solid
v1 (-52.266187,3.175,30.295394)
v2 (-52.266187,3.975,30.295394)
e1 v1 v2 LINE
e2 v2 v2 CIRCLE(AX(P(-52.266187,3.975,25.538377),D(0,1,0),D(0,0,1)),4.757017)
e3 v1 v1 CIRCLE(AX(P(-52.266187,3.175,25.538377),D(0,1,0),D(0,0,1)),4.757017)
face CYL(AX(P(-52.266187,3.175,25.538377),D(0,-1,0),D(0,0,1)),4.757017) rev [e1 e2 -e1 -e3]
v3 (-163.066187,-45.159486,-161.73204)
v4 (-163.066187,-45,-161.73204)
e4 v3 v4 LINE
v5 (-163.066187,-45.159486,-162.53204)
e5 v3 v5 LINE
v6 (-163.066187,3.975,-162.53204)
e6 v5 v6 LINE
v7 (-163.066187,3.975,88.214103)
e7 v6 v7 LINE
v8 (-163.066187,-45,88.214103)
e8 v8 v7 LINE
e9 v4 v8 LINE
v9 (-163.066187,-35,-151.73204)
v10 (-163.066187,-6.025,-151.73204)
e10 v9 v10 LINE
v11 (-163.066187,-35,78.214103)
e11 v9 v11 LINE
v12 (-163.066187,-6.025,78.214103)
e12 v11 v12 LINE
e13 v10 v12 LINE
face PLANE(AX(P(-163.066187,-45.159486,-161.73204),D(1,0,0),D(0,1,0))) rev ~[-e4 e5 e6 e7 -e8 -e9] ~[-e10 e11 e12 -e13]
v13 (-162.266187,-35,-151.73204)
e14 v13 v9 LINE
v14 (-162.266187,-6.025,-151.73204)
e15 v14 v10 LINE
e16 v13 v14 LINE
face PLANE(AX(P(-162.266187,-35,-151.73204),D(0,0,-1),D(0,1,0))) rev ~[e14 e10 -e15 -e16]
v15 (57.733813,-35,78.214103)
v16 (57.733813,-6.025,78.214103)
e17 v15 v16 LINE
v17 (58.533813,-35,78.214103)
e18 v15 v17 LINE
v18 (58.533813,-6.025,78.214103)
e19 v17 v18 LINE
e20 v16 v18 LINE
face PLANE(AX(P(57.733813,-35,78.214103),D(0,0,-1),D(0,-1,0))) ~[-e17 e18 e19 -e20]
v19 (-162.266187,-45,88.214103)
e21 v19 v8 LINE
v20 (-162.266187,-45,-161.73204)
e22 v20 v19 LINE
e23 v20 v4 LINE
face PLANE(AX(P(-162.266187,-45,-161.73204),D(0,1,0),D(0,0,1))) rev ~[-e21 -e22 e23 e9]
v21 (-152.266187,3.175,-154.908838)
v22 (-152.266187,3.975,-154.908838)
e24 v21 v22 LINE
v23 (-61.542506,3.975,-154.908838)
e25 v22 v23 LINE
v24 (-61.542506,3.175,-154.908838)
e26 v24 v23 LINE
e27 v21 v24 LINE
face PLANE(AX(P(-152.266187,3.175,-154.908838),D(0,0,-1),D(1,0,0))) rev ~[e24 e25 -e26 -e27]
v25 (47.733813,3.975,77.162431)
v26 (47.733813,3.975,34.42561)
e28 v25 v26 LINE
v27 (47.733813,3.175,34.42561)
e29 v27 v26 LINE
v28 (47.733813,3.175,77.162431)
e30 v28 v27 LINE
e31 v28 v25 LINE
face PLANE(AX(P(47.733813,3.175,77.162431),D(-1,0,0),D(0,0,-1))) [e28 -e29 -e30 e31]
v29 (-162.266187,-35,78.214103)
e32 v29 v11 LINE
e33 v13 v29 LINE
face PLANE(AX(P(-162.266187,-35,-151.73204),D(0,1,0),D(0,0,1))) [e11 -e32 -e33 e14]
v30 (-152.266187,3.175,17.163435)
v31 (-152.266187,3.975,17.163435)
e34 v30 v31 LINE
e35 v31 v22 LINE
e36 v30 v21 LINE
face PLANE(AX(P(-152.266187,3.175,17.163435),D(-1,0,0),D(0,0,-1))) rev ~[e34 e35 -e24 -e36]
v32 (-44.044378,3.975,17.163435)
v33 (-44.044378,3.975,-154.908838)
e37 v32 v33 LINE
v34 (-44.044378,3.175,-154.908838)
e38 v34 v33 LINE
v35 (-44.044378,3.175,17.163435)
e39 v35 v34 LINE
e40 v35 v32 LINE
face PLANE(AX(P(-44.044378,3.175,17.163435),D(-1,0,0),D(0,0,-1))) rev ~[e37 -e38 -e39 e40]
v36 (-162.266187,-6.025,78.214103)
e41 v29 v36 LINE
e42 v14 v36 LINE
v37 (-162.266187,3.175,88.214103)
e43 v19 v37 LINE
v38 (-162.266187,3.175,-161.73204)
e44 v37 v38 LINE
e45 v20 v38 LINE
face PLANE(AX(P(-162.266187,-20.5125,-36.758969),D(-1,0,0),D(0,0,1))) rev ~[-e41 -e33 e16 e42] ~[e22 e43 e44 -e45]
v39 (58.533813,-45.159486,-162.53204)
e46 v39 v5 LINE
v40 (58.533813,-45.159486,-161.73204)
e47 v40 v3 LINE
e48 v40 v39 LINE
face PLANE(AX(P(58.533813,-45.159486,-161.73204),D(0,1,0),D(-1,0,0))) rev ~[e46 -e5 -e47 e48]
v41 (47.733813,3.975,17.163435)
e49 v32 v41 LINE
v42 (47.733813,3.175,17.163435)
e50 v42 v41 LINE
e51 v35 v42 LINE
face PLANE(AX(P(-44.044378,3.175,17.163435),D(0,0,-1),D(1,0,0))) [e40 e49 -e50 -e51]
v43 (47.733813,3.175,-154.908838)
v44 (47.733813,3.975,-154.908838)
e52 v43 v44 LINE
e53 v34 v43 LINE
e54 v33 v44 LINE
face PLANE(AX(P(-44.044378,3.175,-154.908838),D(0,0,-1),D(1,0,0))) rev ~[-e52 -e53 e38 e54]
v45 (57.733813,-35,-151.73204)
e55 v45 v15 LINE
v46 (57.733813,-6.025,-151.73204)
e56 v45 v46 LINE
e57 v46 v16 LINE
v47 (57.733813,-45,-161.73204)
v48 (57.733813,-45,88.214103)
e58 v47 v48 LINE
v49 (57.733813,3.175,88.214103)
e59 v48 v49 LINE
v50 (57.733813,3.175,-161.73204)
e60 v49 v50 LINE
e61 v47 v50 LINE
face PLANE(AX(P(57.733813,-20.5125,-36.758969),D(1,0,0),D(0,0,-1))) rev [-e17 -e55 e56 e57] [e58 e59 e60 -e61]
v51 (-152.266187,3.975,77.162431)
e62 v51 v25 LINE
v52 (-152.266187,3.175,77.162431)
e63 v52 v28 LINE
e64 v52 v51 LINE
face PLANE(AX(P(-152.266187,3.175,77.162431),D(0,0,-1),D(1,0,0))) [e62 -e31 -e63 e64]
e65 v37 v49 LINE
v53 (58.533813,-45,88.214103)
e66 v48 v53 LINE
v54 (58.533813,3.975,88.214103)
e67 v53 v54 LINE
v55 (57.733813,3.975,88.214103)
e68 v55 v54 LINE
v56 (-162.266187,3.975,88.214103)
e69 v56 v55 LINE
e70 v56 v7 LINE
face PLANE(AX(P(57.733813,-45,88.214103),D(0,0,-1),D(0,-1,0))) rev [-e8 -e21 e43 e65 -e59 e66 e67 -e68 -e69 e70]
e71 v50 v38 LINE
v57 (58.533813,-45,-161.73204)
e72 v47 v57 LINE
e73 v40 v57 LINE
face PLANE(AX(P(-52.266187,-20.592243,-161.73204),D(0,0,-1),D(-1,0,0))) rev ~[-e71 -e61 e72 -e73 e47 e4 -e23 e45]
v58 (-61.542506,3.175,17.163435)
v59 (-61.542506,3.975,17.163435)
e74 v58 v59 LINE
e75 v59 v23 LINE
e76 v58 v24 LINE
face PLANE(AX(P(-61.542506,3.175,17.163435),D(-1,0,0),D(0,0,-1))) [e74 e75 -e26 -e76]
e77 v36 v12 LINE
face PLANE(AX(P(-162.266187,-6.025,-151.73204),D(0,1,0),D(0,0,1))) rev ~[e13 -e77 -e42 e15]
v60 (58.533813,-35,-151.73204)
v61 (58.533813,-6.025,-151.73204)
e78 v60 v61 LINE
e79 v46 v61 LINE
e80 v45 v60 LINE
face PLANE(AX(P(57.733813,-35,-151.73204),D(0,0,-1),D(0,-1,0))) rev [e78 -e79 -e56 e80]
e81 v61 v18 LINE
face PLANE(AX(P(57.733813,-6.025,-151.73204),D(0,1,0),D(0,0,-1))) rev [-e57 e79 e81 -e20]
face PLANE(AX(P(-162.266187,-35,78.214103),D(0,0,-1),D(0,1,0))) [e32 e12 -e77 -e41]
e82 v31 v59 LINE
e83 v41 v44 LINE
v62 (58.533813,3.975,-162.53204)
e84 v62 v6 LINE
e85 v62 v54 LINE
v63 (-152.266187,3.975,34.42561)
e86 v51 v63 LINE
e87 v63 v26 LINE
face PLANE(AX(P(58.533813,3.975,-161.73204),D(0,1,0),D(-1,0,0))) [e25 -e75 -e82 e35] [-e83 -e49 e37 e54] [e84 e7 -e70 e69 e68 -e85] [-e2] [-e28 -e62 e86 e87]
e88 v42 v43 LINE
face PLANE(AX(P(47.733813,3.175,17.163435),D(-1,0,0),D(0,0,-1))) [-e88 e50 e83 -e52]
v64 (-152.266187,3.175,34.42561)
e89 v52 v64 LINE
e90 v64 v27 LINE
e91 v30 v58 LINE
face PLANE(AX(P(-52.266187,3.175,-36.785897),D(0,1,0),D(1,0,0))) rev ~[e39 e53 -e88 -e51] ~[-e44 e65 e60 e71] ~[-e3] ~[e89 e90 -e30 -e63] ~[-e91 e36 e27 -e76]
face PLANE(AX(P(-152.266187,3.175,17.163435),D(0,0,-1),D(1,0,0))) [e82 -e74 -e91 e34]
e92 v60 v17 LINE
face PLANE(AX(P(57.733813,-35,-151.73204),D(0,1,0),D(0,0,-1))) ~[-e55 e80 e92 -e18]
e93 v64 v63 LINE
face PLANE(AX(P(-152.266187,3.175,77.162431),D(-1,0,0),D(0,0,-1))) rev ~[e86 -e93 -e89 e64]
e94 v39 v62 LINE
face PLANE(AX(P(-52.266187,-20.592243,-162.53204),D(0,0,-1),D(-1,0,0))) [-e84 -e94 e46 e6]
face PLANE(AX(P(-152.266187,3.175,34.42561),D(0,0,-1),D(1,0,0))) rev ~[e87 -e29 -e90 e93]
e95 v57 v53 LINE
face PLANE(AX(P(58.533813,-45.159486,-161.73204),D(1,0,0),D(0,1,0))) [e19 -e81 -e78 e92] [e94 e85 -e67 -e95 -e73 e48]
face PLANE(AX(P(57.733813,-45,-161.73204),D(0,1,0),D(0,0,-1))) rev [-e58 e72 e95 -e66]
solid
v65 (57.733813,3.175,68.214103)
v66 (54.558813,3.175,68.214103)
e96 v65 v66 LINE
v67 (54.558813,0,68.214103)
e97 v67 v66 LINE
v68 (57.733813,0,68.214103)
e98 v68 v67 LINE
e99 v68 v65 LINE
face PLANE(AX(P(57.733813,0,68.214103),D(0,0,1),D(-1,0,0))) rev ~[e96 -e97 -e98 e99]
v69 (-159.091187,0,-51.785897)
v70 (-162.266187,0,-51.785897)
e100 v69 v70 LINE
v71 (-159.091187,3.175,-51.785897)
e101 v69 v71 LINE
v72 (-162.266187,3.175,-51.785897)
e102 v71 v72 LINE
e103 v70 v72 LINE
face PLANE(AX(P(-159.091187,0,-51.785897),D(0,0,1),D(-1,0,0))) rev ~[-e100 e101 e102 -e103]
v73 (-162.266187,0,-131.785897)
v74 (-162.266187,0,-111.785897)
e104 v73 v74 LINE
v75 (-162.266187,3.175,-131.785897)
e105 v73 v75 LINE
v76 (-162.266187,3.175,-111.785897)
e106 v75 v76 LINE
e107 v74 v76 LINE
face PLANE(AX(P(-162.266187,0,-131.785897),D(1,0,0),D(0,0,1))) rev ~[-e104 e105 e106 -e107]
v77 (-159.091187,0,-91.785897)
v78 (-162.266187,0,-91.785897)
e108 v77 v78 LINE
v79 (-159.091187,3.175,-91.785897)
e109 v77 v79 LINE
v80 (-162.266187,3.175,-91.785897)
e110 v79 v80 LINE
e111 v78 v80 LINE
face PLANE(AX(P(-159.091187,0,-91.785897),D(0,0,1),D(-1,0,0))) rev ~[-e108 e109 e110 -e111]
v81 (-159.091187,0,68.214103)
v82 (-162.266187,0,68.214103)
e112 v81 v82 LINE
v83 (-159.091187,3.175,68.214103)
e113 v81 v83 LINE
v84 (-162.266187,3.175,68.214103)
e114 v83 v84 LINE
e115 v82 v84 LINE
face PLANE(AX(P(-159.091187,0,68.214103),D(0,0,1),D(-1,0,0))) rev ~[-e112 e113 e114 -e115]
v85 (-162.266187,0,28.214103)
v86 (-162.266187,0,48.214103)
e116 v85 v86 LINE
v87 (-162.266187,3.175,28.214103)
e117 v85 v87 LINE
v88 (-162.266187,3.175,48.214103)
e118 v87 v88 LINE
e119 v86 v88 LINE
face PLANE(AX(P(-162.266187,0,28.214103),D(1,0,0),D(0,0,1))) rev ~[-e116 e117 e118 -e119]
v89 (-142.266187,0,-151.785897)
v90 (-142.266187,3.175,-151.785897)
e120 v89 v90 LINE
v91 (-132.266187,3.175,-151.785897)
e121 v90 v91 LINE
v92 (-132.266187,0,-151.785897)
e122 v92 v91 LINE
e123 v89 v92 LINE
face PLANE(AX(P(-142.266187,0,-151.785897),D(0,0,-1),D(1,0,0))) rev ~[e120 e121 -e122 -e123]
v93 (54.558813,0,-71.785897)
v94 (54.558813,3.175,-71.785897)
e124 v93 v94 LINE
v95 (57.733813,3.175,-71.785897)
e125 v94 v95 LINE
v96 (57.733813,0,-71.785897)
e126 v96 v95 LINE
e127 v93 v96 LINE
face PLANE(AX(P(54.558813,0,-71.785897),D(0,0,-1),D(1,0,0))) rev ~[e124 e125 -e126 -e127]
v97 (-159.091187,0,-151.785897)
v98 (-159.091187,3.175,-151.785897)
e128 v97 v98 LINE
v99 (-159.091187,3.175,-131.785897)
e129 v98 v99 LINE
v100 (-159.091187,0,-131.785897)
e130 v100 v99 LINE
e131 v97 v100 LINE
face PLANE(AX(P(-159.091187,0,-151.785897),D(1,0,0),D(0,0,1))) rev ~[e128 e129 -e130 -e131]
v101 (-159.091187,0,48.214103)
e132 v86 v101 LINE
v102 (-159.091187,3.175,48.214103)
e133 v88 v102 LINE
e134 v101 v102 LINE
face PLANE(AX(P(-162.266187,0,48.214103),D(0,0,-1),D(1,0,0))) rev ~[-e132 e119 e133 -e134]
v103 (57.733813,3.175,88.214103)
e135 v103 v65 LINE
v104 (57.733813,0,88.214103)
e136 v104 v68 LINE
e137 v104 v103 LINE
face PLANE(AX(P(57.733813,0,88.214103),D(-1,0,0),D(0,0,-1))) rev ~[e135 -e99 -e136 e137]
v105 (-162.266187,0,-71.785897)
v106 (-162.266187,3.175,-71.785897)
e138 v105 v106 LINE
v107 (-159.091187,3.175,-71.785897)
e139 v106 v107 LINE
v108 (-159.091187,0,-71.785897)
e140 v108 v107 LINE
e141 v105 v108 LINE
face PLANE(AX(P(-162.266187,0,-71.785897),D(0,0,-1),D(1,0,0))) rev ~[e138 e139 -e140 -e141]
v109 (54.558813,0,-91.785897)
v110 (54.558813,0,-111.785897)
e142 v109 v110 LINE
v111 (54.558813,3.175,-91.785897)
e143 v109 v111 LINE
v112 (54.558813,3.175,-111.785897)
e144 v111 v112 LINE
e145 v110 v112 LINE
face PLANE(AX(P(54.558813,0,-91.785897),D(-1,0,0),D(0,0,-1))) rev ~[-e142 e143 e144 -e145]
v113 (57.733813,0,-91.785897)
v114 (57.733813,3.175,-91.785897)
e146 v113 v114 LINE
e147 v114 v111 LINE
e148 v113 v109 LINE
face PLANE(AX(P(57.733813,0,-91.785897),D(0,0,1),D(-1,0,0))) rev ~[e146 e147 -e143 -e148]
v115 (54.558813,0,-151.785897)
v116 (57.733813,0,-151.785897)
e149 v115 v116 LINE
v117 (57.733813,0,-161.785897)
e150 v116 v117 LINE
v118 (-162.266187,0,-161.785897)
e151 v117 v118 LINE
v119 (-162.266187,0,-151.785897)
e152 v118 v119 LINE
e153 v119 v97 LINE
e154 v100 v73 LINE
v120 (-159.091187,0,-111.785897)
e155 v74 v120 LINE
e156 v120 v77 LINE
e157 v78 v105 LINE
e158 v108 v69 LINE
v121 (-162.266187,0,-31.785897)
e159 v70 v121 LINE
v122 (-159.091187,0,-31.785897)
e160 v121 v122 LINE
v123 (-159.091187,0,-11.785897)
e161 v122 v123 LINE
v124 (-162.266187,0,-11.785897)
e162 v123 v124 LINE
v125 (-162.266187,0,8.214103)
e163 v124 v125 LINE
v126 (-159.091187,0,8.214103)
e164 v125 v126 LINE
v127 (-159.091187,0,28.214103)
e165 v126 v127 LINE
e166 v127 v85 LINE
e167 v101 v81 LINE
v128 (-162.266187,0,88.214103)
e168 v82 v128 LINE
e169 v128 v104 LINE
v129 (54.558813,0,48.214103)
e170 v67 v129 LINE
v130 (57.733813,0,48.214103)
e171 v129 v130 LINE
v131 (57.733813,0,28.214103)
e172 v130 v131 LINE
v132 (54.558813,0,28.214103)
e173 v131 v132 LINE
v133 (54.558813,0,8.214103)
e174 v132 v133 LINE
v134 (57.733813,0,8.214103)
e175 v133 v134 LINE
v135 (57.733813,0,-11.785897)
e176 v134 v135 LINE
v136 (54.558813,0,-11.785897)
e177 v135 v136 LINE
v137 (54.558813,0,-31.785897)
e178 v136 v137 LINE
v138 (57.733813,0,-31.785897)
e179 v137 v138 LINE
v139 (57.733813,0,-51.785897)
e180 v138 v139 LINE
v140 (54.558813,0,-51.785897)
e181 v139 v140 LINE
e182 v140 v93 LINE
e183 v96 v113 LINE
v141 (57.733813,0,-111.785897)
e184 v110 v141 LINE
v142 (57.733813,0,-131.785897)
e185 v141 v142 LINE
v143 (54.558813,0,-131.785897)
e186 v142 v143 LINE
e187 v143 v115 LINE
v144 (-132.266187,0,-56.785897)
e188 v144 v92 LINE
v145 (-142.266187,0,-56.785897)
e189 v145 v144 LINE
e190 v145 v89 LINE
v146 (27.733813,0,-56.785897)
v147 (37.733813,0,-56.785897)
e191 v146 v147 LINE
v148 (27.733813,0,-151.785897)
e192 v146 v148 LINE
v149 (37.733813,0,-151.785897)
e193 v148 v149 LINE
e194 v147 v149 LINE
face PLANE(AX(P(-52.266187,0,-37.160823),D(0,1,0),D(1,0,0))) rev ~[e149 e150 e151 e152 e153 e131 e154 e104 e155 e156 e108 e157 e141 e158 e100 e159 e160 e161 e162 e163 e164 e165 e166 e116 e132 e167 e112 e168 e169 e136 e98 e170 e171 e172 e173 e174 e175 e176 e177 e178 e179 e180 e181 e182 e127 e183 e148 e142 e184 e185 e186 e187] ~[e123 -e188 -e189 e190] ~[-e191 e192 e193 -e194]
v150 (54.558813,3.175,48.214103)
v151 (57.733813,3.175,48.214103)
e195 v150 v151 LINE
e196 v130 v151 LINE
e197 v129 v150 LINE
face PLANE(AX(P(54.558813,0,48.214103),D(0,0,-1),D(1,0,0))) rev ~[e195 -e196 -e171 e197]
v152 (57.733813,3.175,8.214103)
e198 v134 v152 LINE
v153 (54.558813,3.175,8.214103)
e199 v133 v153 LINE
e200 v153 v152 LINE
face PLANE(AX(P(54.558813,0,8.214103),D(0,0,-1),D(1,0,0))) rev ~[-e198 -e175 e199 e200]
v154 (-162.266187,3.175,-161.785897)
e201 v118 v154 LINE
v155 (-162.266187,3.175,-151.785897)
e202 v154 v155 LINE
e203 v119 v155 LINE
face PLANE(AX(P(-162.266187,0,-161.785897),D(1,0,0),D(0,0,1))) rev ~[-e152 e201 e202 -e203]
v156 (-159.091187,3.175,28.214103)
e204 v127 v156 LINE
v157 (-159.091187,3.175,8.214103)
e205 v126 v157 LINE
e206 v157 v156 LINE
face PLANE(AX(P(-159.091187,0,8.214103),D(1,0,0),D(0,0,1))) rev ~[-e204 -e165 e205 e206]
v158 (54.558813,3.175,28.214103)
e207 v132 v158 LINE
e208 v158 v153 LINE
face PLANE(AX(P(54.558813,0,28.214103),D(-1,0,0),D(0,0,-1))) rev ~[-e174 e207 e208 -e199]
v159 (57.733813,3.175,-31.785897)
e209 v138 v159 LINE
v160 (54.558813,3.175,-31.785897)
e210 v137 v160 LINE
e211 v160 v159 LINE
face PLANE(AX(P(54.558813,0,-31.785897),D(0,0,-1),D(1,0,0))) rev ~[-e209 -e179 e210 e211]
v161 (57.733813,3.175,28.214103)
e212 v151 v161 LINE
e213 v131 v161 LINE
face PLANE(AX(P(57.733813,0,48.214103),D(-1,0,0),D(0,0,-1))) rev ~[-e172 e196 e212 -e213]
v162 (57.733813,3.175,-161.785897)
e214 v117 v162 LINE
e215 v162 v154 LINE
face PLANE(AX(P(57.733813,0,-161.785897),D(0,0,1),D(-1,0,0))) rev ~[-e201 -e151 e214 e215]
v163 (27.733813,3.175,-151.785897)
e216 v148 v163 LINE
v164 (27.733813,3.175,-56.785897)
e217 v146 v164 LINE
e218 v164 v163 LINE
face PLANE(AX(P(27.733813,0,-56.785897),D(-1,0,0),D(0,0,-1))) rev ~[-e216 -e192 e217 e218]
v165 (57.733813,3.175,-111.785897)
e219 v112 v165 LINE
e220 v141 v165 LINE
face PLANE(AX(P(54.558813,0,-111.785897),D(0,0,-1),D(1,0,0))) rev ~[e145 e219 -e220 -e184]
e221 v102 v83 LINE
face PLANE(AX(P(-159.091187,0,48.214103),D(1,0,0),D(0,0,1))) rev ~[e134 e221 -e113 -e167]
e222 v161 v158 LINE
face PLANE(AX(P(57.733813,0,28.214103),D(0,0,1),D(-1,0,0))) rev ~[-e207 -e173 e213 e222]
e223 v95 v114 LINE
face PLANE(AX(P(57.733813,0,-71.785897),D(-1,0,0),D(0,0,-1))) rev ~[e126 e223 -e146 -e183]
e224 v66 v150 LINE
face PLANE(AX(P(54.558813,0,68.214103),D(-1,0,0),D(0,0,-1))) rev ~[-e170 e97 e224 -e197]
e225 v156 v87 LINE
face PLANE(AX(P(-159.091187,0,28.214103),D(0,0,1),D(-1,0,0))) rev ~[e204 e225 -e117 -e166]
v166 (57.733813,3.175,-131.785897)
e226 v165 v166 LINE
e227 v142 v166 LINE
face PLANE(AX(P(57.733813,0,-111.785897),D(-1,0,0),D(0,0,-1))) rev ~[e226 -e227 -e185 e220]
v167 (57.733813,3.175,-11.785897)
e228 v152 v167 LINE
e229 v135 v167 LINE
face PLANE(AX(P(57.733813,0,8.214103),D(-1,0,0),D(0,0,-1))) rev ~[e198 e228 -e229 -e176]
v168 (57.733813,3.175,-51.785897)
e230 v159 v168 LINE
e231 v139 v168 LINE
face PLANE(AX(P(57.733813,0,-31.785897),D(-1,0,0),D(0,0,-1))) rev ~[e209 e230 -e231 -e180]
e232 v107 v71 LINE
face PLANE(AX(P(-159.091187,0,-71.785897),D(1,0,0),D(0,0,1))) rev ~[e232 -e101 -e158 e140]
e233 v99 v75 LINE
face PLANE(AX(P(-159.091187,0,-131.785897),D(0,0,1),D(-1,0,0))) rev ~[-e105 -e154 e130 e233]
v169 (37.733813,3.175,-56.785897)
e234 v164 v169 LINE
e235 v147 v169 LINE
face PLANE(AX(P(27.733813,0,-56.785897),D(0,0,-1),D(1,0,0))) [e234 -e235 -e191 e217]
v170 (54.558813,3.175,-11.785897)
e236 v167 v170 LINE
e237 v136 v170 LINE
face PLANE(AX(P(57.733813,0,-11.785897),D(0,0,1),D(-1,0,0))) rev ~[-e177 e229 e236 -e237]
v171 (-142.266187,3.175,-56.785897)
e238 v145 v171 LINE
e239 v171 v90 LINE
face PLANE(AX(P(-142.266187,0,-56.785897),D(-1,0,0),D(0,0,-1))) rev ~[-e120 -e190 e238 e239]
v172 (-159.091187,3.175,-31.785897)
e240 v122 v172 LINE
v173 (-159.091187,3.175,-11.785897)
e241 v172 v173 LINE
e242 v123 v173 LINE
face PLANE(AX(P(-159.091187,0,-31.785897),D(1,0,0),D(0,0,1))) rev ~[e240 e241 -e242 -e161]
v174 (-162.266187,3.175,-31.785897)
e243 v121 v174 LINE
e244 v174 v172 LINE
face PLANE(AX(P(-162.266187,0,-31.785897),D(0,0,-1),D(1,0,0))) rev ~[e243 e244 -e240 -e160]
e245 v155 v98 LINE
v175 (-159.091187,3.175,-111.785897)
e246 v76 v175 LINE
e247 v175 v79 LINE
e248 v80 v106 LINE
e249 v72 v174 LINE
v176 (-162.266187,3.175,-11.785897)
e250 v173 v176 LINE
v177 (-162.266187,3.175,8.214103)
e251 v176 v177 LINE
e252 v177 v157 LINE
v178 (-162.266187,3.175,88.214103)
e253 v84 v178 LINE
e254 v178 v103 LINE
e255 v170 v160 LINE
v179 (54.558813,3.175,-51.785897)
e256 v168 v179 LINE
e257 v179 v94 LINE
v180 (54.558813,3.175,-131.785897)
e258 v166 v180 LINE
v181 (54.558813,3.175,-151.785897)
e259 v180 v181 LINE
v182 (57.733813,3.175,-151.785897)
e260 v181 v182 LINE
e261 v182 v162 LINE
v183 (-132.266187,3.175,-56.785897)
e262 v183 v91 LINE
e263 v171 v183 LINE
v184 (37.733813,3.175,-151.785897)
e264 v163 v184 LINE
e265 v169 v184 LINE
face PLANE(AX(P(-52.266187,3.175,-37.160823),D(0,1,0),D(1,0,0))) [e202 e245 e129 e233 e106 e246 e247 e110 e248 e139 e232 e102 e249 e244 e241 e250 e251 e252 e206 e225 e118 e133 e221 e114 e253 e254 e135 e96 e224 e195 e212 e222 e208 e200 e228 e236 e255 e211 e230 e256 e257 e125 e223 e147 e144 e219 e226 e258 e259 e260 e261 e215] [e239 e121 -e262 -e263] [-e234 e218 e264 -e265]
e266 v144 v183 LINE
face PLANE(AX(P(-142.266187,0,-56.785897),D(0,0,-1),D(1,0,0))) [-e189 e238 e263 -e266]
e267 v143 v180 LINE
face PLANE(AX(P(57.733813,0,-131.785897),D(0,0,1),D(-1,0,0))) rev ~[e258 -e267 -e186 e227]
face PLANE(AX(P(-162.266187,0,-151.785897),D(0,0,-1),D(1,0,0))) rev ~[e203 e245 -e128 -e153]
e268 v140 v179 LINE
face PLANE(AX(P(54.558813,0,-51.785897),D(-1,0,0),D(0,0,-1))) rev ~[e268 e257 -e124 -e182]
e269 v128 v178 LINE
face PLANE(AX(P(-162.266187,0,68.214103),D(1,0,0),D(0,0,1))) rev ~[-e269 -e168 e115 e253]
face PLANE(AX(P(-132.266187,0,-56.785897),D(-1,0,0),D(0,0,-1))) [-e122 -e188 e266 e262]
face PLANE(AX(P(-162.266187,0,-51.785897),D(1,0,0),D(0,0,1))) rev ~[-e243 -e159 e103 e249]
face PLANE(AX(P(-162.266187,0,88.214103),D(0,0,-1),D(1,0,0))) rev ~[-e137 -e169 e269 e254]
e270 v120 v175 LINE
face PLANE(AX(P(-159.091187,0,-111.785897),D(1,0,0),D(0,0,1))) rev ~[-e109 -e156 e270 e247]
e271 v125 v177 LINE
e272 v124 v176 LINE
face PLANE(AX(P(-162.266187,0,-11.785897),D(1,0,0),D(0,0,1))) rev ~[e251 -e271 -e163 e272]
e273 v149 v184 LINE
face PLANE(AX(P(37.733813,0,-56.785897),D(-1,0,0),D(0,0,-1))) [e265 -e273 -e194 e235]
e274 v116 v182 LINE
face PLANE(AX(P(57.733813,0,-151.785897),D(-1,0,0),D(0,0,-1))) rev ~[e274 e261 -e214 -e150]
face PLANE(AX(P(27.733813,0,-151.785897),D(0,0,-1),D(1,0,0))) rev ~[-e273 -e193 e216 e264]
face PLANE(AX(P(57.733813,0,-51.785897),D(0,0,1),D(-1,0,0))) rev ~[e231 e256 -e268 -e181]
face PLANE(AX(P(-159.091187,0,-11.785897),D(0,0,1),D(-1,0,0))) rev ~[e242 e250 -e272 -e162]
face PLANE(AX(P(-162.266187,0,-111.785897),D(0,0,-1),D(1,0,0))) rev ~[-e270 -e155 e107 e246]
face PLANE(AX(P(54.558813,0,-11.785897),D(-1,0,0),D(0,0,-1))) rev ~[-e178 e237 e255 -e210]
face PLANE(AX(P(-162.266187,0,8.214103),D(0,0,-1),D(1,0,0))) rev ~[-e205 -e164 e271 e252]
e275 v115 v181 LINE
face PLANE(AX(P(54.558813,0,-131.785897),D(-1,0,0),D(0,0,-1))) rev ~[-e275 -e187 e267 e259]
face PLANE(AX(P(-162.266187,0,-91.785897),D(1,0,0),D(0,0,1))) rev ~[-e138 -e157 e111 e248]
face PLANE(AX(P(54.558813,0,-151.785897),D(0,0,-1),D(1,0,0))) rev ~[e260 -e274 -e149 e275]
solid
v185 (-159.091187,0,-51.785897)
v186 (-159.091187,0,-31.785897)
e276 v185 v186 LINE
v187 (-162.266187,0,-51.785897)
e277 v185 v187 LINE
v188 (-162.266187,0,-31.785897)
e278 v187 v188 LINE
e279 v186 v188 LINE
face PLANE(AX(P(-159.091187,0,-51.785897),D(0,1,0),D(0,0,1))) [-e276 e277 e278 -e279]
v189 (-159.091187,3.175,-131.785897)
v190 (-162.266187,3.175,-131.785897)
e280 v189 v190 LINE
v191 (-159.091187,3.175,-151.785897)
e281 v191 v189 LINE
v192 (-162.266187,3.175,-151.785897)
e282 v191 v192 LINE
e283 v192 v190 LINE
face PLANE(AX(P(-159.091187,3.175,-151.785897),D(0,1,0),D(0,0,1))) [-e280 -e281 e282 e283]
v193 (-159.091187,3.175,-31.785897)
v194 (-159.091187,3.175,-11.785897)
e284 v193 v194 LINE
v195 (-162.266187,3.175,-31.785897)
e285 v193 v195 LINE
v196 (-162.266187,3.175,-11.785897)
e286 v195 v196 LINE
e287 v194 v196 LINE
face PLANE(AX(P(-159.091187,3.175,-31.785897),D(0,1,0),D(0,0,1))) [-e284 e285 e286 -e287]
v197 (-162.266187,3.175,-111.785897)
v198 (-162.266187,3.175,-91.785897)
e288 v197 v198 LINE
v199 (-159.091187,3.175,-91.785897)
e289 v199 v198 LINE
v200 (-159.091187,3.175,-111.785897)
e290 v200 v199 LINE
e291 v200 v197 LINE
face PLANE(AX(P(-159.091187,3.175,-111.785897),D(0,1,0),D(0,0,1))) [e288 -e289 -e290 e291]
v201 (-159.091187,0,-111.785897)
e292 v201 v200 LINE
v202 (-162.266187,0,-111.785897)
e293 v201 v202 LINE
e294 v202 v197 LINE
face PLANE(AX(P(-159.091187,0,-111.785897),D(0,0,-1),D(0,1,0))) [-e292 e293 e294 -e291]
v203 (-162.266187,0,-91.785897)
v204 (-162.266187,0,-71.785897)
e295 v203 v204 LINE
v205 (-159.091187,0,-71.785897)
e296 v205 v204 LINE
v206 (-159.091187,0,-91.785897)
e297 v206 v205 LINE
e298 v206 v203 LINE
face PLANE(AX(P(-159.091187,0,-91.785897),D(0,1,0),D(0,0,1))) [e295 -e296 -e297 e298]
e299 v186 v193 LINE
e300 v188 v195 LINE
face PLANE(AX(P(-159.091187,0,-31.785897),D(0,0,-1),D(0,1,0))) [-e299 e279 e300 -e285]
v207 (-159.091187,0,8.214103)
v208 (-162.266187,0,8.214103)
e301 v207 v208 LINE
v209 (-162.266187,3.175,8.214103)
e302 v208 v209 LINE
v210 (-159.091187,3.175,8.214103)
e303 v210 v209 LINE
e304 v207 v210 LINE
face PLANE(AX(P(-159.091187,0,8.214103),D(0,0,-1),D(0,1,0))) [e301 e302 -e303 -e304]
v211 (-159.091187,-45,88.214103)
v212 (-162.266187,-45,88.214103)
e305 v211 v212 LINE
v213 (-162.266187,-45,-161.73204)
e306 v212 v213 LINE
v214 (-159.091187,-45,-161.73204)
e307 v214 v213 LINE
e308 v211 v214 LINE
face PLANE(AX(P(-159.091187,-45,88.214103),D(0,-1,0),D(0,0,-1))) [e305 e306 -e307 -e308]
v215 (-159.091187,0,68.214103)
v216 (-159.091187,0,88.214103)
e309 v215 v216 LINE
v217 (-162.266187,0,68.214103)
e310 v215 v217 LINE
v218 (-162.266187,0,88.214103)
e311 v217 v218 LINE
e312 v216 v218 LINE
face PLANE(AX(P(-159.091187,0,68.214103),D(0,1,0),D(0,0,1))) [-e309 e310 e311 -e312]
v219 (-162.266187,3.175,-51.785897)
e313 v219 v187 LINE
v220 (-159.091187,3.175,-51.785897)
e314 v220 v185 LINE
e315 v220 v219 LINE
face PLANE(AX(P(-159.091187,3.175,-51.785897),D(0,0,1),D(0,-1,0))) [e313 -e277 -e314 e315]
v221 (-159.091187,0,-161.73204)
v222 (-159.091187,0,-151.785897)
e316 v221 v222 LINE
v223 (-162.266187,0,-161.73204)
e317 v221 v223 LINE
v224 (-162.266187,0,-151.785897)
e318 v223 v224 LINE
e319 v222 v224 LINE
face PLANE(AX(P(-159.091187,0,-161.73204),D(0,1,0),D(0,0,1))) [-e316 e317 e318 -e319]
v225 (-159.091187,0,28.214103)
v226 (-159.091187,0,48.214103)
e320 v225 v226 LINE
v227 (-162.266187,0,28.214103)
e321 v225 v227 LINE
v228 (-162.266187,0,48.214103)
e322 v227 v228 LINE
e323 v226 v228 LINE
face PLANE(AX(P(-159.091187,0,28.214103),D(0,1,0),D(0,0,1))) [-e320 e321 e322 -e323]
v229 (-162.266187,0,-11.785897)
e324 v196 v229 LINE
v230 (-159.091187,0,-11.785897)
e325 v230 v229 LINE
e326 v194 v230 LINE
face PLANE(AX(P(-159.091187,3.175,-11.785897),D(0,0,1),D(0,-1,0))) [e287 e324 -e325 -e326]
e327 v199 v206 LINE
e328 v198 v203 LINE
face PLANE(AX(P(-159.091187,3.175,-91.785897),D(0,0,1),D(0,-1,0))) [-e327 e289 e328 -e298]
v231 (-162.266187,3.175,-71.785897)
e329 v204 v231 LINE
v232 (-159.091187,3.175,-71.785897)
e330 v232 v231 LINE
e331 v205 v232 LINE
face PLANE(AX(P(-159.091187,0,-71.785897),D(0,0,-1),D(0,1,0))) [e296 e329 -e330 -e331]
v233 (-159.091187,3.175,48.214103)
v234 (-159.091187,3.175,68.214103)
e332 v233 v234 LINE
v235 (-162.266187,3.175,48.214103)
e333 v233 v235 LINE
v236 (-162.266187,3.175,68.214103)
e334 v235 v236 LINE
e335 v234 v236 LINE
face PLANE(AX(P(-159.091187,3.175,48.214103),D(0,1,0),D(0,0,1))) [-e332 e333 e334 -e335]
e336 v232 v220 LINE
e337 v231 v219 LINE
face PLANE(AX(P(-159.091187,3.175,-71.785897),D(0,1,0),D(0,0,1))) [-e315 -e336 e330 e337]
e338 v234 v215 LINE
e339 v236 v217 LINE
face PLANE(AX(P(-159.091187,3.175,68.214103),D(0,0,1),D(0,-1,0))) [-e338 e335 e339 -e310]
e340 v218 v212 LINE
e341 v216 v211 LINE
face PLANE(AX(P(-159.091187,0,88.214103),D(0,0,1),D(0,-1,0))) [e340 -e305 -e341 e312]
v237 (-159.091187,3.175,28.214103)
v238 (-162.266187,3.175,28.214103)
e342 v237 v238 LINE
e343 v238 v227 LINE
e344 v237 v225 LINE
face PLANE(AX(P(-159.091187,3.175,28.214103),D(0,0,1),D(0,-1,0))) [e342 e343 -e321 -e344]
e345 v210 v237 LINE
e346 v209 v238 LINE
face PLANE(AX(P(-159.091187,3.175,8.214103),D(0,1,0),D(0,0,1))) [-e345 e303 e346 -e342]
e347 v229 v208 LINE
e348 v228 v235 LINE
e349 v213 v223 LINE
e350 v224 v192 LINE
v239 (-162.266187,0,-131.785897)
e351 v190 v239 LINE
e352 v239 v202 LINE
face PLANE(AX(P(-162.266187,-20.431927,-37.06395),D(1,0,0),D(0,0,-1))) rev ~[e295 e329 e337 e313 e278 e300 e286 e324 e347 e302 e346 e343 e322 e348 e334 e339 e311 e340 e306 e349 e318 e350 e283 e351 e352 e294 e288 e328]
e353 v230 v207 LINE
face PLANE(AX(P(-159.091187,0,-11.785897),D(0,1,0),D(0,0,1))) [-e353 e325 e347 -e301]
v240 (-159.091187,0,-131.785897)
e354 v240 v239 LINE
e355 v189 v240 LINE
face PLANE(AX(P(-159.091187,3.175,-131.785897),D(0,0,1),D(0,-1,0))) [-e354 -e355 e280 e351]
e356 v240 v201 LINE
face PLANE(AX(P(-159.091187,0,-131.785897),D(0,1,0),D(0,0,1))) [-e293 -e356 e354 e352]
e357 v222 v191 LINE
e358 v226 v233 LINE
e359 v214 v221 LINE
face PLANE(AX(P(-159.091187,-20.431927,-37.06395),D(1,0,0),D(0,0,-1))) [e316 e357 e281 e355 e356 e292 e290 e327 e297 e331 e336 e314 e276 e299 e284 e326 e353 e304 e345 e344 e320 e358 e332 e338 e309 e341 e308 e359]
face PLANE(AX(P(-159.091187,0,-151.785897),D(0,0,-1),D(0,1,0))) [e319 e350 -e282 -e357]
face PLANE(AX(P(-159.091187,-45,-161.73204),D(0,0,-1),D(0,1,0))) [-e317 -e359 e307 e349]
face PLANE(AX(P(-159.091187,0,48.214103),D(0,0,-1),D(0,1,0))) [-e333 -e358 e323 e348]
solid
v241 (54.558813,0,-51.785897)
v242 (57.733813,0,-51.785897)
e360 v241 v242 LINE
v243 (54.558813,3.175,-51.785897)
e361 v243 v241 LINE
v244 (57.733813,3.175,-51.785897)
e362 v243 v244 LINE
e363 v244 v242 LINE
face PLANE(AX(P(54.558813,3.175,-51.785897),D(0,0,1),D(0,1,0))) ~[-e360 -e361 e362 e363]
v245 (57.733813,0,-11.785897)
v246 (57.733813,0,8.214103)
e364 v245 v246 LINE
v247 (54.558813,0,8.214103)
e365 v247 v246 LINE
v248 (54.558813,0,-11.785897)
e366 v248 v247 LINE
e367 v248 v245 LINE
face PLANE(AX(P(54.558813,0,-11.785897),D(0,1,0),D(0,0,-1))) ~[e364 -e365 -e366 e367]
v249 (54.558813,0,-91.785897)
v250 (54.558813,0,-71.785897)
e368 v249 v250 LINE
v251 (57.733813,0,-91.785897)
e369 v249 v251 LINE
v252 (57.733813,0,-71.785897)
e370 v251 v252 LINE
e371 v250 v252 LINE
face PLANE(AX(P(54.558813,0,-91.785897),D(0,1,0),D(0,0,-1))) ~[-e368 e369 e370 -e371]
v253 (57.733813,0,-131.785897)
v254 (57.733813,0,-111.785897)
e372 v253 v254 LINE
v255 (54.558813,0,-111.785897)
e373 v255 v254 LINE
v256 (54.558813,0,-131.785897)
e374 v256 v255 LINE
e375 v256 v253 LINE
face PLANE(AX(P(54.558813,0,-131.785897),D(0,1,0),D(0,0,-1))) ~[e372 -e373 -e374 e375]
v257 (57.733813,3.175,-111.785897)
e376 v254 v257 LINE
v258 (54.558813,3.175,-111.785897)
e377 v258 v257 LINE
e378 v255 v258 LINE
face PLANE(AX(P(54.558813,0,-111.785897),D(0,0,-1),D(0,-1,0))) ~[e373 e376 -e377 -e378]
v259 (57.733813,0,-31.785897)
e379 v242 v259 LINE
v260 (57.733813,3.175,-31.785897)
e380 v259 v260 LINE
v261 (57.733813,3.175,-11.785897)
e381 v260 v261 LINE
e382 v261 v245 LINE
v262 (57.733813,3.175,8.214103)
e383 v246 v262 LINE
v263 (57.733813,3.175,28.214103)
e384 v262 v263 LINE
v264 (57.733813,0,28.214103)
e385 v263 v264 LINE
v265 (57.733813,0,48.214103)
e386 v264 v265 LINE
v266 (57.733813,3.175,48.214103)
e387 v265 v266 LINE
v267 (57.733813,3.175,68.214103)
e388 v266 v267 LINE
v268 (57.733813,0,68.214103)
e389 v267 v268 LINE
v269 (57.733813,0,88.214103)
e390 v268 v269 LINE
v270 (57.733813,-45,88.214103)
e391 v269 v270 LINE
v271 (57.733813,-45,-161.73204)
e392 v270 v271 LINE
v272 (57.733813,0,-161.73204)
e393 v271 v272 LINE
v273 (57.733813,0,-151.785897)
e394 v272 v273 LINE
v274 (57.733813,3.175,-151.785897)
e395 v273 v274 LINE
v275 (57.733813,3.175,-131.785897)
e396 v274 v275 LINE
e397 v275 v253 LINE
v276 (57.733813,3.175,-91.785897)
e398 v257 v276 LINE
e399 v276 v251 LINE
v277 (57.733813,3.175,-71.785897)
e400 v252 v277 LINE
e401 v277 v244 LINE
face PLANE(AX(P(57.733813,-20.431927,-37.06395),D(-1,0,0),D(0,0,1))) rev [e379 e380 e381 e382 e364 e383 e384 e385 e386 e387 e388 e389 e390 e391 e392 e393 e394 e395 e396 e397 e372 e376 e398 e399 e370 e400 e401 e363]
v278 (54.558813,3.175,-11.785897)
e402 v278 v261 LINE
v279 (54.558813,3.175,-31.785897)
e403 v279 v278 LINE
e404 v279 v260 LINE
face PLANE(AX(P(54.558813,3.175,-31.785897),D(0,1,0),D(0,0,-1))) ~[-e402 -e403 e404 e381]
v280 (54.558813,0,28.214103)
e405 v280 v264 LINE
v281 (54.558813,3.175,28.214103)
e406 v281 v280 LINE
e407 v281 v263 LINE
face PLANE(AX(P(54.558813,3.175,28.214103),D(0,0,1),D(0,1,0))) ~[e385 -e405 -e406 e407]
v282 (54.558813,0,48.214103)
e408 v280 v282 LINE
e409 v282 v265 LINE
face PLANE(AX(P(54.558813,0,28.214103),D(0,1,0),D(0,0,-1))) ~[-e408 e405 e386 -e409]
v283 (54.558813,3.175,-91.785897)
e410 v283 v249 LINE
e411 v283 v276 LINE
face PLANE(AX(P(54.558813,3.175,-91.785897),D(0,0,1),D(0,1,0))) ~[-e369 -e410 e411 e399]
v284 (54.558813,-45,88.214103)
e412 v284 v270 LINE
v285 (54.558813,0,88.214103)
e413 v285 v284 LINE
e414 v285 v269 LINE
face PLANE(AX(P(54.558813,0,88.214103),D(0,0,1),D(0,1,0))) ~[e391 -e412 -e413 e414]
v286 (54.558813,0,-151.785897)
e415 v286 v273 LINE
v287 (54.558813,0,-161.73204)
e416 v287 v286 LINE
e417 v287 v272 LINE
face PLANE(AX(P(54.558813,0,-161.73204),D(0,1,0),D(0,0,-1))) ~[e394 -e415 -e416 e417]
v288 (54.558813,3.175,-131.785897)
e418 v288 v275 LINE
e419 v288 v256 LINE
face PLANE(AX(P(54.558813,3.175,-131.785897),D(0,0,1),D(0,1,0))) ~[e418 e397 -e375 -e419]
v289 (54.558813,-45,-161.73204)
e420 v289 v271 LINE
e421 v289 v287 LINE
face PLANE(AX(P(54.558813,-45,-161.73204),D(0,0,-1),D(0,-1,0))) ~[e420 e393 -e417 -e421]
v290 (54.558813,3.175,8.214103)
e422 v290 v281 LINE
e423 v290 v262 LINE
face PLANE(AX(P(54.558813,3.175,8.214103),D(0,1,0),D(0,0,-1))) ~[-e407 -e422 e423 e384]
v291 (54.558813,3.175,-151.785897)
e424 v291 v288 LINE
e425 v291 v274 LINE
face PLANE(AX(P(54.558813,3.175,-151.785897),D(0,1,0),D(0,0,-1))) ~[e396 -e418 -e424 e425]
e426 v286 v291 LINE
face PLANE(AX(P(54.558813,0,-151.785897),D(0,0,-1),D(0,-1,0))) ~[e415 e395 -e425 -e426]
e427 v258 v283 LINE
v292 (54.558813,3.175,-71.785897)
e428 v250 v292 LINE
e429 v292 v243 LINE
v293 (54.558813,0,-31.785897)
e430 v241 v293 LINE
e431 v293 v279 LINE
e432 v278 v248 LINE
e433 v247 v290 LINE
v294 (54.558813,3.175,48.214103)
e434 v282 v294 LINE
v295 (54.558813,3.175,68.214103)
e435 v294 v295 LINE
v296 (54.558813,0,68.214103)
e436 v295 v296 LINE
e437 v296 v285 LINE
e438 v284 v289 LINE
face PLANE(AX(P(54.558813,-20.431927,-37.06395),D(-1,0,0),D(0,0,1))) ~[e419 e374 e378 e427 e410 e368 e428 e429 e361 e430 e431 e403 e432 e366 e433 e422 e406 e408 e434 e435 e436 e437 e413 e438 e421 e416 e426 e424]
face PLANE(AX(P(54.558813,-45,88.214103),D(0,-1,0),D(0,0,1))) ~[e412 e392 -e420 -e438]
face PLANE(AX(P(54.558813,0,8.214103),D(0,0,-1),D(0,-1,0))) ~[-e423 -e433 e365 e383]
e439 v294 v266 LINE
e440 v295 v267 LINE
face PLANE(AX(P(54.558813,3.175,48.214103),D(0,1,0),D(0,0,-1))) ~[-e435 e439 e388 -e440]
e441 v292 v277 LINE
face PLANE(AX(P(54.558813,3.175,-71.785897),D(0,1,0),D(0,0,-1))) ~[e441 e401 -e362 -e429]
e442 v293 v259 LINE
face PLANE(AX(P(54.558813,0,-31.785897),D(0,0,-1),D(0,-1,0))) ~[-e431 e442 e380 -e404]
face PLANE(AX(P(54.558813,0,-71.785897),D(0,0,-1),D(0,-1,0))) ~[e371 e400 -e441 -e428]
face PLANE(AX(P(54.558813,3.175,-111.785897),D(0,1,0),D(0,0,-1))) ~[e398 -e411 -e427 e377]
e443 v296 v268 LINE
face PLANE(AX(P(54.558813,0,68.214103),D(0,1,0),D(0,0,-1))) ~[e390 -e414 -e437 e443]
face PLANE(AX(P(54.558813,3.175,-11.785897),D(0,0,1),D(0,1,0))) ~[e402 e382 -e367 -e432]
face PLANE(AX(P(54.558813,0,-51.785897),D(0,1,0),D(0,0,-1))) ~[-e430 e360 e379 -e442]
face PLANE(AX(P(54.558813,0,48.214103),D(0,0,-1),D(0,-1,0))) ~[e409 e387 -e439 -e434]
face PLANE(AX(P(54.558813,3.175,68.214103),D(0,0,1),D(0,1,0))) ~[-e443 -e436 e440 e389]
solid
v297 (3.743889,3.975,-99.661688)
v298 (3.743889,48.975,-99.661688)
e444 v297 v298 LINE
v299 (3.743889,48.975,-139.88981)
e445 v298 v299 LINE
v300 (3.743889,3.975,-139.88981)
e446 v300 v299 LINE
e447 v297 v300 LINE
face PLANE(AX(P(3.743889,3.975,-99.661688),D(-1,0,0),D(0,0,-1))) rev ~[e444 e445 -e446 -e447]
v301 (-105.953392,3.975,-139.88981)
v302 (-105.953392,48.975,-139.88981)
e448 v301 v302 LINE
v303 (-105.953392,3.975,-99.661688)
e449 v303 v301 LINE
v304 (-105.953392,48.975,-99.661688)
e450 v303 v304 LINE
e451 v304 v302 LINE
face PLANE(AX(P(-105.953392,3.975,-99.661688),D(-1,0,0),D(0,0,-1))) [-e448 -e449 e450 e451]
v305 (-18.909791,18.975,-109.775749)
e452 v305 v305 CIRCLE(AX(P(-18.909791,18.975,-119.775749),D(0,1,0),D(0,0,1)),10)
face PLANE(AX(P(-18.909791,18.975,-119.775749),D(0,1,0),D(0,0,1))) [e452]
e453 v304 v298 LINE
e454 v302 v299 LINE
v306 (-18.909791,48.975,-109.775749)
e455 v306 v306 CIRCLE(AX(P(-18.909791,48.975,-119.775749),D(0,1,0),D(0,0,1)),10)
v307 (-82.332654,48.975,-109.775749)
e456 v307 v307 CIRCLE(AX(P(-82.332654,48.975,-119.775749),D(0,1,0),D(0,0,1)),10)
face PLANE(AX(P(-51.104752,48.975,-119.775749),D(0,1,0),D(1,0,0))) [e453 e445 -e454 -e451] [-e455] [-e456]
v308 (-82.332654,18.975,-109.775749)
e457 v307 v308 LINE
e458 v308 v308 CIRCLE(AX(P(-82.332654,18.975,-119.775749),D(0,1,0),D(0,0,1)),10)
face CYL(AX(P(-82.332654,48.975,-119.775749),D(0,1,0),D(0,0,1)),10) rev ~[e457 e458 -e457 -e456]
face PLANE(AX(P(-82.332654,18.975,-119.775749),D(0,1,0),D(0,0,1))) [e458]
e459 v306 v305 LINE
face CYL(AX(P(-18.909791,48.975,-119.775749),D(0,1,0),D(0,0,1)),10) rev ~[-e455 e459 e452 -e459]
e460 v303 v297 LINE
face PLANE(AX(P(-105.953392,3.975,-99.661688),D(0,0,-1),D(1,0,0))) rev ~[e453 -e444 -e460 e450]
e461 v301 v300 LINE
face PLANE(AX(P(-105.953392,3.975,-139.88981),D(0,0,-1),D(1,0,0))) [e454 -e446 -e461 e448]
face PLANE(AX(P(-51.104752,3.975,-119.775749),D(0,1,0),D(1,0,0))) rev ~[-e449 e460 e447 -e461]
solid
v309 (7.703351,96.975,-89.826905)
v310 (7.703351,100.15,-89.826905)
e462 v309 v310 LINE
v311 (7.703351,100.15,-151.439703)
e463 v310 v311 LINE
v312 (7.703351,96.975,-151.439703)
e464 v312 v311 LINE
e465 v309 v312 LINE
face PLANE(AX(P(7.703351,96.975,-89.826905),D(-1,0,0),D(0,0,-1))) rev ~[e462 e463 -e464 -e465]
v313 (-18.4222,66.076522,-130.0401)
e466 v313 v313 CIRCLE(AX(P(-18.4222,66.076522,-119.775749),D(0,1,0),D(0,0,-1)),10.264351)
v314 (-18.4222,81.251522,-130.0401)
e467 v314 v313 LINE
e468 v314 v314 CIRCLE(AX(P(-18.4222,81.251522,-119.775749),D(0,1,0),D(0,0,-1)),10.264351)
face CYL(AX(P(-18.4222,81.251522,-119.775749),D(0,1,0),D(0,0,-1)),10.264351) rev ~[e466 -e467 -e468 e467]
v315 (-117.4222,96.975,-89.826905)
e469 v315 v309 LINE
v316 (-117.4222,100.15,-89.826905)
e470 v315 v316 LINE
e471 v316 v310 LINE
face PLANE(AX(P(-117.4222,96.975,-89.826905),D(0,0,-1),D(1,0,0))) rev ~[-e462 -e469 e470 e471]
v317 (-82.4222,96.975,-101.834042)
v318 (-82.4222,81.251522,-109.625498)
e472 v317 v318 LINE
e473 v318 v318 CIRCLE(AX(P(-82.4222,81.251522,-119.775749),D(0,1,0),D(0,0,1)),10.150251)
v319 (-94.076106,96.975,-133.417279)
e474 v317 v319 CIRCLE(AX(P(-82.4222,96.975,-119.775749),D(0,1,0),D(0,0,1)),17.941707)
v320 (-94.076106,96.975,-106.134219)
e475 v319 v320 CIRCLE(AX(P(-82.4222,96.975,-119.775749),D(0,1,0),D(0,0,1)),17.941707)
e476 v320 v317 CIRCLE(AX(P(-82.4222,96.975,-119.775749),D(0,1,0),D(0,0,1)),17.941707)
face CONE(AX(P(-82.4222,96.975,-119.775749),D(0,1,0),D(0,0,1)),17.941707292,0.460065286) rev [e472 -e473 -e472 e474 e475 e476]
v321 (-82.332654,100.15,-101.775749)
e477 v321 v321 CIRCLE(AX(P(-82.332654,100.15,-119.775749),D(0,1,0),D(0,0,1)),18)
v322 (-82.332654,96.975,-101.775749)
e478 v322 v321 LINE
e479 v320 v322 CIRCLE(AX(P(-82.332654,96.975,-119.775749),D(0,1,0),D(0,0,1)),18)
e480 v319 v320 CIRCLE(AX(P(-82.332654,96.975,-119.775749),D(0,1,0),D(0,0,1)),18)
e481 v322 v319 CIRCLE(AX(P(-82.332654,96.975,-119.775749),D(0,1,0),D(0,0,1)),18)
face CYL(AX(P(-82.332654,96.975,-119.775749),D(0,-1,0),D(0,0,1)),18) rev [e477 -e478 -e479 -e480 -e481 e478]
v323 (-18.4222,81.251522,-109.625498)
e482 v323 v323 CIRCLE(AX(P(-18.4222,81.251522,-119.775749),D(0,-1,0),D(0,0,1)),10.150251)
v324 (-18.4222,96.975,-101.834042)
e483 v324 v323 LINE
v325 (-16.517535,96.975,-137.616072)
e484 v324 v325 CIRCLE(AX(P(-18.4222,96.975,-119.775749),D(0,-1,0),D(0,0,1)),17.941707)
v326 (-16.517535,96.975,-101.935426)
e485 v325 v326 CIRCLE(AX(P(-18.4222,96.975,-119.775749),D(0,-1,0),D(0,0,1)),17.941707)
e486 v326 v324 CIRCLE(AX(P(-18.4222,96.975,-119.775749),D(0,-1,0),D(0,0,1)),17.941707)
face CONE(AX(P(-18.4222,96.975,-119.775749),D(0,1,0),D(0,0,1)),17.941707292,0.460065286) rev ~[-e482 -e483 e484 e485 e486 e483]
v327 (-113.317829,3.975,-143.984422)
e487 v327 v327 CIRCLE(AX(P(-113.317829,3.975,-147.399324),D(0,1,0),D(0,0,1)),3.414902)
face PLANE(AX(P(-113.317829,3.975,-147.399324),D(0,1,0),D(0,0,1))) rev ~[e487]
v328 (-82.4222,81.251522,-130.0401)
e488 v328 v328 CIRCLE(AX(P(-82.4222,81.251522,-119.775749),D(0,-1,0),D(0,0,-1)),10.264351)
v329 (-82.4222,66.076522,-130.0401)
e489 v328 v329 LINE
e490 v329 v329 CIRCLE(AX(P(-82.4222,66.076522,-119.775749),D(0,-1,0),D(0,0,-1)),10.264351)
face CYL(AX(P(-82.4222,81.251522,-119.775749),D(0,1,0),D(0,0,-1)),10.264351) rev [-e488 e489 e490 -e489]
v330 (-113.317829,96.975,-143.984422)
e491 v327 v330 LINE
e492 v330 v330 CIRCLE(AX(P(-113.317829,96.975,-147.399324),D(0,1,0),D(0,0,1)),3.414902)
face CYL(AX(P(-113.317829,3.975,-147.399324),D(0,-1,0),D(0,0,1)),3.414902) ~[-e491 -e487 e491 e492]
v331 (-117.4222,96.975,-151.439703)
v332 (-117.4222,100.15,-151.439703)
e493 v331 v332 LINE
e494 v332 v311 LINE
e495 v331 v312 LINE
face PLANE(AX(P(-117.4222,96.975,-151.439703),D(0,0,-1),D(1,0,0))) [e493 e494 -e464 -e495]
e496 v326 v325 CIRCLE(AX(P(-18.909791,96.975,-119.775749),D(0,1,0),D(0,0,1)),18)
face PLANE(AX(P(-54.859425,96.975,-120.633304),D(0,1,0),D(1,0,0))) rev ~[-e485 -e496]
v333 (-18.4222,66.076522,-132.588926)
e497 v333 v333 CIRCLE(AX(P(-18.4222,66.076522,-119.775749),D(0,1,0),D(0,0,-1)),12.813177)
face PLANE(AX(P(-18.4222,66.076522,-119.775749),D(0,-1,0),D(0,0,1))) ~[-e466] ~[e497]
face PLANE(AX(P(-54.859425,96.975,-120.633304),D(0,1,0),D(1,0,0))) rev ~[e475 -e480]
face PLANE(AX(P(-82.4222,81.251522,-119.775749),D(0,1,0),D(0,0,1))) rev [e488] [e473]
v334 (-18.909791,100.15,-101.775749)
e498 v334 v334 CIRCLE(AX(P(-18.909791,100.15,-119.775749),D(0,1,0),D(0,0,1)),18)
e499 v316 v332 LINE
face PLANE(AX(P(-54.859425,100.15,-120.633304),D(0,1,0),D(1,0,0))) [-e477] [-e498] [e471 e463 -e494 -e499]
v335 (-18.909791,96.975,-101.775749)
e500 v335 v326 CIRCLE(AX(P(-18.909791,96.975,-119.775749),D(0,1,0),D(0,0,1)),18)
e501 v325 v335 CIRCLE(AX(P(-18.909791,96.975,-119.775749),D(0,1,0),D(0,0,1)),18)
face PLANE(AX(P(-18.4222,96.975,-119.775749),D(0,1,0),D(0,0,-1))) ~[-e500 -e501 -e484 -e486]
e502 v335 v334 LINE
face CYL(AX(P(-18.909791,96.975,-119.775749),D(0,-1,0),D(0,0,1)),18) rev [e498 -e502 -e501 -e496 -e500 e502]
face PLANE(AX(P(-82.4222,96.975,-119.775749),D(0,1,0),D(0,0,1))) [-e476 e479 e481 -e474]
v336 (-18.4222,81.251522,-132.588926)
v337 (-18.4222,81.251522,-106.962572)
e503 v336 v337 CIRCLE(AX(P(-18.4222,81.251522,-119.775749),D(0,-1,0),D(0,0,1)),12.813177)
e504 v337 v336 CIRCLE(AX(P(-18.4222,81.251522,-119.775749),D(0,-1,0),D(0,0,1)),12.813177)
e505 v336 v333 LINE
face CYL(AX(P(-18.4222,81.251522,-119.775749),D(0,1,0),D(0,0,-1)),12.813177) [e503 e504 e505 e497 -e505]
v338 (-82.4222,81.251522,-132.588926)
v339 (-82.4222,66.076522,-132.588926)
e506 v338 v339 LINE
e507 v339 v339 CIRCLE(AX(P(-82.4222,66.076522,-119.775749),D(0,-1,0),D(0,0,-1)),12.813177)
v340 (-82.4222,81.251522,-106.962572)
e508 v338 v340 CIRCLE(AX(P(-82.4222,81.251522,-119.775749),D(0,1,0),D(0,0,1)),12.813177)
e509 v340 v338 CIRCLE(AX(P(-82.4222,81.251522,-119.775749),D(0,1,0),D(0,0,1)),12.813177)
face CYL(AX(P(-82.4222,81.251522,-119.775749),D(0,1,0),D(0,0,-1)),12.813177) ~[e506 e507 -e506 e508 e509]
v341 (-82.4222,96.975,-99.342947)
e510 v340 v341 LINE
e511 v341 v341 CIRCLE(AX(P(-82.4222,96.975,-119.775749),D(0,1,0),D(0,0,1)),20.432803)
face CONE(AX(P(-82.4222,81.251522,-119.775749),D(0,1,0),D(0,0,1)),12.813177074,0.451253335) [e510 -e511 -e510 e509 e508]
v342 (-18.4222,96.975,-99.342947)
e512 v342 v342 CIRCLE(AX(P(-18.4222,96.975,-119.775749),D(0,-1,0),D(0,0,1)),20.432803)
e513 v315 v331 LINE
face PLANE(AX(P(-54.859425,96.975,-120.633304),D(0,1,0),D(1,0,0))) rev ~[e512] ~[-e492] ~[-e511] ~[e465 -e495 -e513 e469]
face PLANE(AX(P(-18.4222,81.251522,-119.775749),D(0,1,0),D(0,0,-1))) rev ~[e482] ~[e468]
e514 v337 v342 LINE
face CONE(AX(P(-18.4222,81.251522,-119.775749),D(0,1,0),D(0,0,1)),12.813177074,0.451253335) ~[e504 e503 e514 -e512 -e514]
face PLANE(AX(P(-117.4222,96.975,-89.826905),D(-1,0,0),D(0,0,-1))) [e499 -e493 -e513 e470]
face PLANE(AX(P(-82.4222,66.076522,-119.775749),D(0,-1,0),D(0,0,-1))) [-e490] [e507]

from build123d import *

# Parameters (mm, degrees)
SKETCH2_W            = 10
SKETCH2_H            = 95
BOSS_EXTRUDE1_DEPTH  = 3.175
BOSS_EXTRUDE2_DEPTH  = 3.175
SKETCH6_W            = 220
SKETCH6_H            = 250
SKETCH6_R            = 4.757017435
SKETCH6_W_2          = 200
SKETCH6_H_2          = 42.736820738
SKETCH6_W_3          = 90.723680888
SKETCH6_H_3          = 172.072273937
SKETCH6_W_4          = 91.778190592
BOSS_EXTRUDE5_DEPTH  = 0.8
SKETCH9_W            = 249.946143141
SKETCH9_H            = 48.975
SKETCH9_W_2          = 229.946143141
SKETCH9_H_2          = 28.975
BOSS_EXTRUDE7_DEPTH  = 0.8
SKETCH10_W           = 109.697281068
SKETCH10_H           = 40.228121307
BOSS_EXTRUDE8_DEPTH  = 45
SKETCH11_R           = 10
CUT_EXTRUDE1_DEPTH   = 30
SKETCH12_R           = 3.414901982
BOSS_EXTRUDE9_DEPTH  = 93
SKETCH13_W           = 125.125550564
SKETCH13_H           = 61.612798217
SKETCH13_R           = 18
BOSS_EXTRUDE10_DEPTH = 3.175
SKETCH16_R           = 12.813177074
SKETCH16_R_2         = 10.264351108
BOSS_EXTRUDE11_DEPTH = 15.175
SKETCH17_W           = 221.6
SKETCH17_H           = 49.134485582
BOSS_EXTRUDE12_DEPTH = 0.8


with BuildPart() as part:
    # Sketch2 → Boss-Extrude1 (new body)
    with BuildSketch(Plane(origin=(0, 0, 0), x_dir=(1, 0, 0), z_dir=(0, 1, 0))):
        Polygon((-162.266187111, -88.214102909), (57.733812889, -88.214102909), (57.733812889, -68.214102909), (54.558812889, -68.214102909), (54.558812889, -48.214102909), (57.733812889, -48.214102909), (57.733812889, -28.214102909), (54.558812889, -28.214102909), (54.558812889, -8.214102909), (57.733812889, -8.214102909), (57.733812889, 11.785897091), (54.558812889, 11.785897091), (54.558812889, 31.785897091), (57.733812889, 31.785897091), (57.733812889, 51.785897091), (54.558812889, 51.785897091), (54.558812889, 71.785897091), (57.733812889, 71.785897091), (57.733812889, 91.785897091), (54.558812889, 91.785897091), (54.558812889, 111.785897091), (57.733812889, 111.785897091), (57.733812889, 131.785897091), (54.558812889, 131.785897091), (54.558812889, 151.785897091), (57.733812889, 151.785897091), (57.733812889, 161.785897091), (-162.266187111, 161.785897091), (-162.266187111, 151.785897091), (-159.091187111, 151.785897091), (-159.091187111, 131.785897091), (-162.266187111, 131.785897091), (-162.266187111, 111.785897091), (-159.091187111, 111.785897091), (-159.091187111, 91.785897091), (-162.266187111, 91.785897091), (-162.266187111, 71.785897091), (-159.091187111, 71.785897091), (-159.091187111, 51.785897091), (-162.266187111, 51.785897091), (-162.266187111, 31.785897091), (-159.091187111, 31.785897091), (-159.091187111, 11.785897091), (-162.266187111, 11.785897091), (-162.266187111, -8.214102909), (-159.091187111, -8.214102909), (-159.091187111, -28.214102909), (-162.266187111, -28.214102909), (-162.266187111, -48.214102909), (-159.091187111, -48.214102909), (-159.091187111, -68.214102909), (-162.266187111, -68.214102909), align=None)
        with Locations((32.733812889, 104.285897091)):
            Rectangle(SKETCH2_W, SKETCH2_H, mode=Mode.SUBTRACT)
        with Locations((-137.266187111, 104.285897091)):
            Rectangle(SKETCH2_W, SKETCH2_H, mode=Mode.SUBTRACT)
    extrude(amount=BOSS_EXTRUDE1_DEPTH)


with BuildPart() as body_2:
    # Sketch3 → Boss-Extrude2 (new body)
    with BuildSketch(Plane.ZY.offset(159.091187111)):
        Polygon((68.214102909, 3.175), (68.214102909, 0), (88.214102909, 0), (88.214102909, -45), (-161.732040232, -45), (-161.732040232, 0), (-151.785897091, 0), (-151.785897091, 3.175), (-131.785897091, 3.175), (-131.785897091, 0), (-111.785897091, 0), (-111.785897091, 3.175), (-91.785897091, 3.175), (-91.785897091, 0), (-71.785897091, 0), (-71.785897091, 3.175), (-51.785897091, 3.175), (-51.785897091, 0), (-31.785897091, 0), (-31.785897091, 3.175), (-11.785897091, 3.175), (-11.785897091, 0), (8.214102909, 0), (8.214102909, 3.175), (28.214102909, 3.175), (28.214102909, 0), (48.214102909, 0), (48.214102909, 3.175), align=None)
    extrude(amount=BOSS_EXTRUDE2_DEPTH)


with BuildPart() as body_3:
    # Sketch6 → Boss-Extrude5 (new body)
    with BuildSketch(Plane(origin=(0, 3.175, 0), x_dir=(1, 0, 0), z_dir=(0, 1, 0))):
        with Locations((-52.266187111, 36.785897091)):
            Rectangle(SKETCH6_W, SKETCH6_H)
        with Locations(Location((-52.266187111, -25.538376938, 0), (0, 0, 270))):
            Circle(SKETCH6_R, mode=Mode.SUBTRACT)
        with Locations((-52.266187111, -55.794020292)):
            Rectangle(SKETCH6_W_2, SKETCH6_H_2, mode=Mode.SUBTRACT)
        with Locations((-106.904346667, 68.87270147)):
            Rectangle(SKETCH6_W_3, SKETCH6_H_3, mode=Mode.SUBTRACT)
        with Locations((1.844717593, 68.87270147)):
            Rectangle(SKETCH6_W_4, SKETCH6_H_3, mode=Mode.SUBTRACT)
    extrude(amount=BOSS_EXTRUDE5_DEPTH)

    # Sketch9 → Boss-Extrude7 (add)
    with BuildSketch(Plane.ZY.offset(162.266187111)):
        with Locations((-36.758968661, -20.5125)):
            Rectangle(SKETCH9_W, SKETCH9_H)
        with Locations((-36.758968661, -20.5125)):
            Rectangle(SKETCH9_W_2, SKETCH9_H_2, mode=Mode.SUBTRACT)
    boss_extrude7 = extrude(amount=BOSS_EXTRUDE7_DEPTH)

    # Mirror5: Boss-Extrude7 across plane
    add(boss_extrude7.mirror(Plane.ZY.offset(52.266187111)))

    # Sketch17 → Boss-Extrude12 (add)
    with BuildSketch(Plane(origin=(0, 0, -161.732040232), x_dir=(-1, 0, 0), z_dir=(0, 0, -1))):
        with Locations((52.266187111, -20.592242791)):
            Rectangle(SKETCH17_W, SKETCH17_H)
    extrude(amount=BOSS_EXTRUDE12_DEPTH)


with BuildPart() as body_4:
    # Sketch10 → Boss-Extrude8 (new body)
    with BuildSketch(Plane(origin=(0, 3.975, 0), x_dir=(1, 0, 0), z_dir=(0, 1, 0))):
        with Locations((-51.104751529, 119.775749139)):
            Rectangle(SKETCH10_W, SKETCH10_H)
    extrude(amount=BOSS_EXTRUDE8_DEPTH)

    # Sketch11 → Cut-Extrude1 (cut)
    with BuildSketch(Plane(origin=(0, 48.975, 0), x_dir=(1, 0, 0), z_dir=(0, 1, 0))):
        with Locations(Location((-82.332653929, 119.775749139, 0), (0, 0, 270))):
            Circle(SKETCH11_R)
        with Locations(Location((-18.909790917, 119.775749139, 0), (0, 0, 270))):
            Circle(SKETCH11_R)
    extrude(amount=-CUT_EXTRUDE1_DEPTH, mode=Mode.SUBTRACT)


with BuildPart() as body_5:
    # Sketch12 → Boss-Extrude9 (new body)
    with BuildSketch(Plane(origin=(0, 3.975, 0), x_dir=(1, 0, 0), z_dir=(0, 1, 0))):
        with Locations(Location((-113.317828916, 147.399324115, 0), (0, 0, 270))):
            Circle(SKETCH12_R)
    extrude(amount=BOSS_EXTRUDE9_DEPTH)

    # Sketch13 → Boss-Extrude10 (add)
    with BuildSketch(Plane(origin=(0, 96.975, 0), x_dir=(1, 0, 0), z_dir=(0, 1, 0))):
        with Locations((-54.859424633, 120.633304207)):
            Rectangle(SKETCH13_W, SKETCH13_H)
        with Locations(Location((-82.332653929, 119.775749139, 0), (0, 0, 270))):
            Circle(SKETCH13_R, mode=Mode.SUBTRACT)
        with Locations(Location((-18.909790917, 119.775749139, 0), (0, 0, 270))):
            Circle(SKETCH13_R, mode=Mode.SUBTRACT)
    extrude(amount=BOSS_EXTRUDE10_DEPTH)

    # Sketch14 → Revolve1 (revolve)
    with BuildSketch(Plane(origin=(-82.422199915, 0, 0), x_dir=(0, 0, -1), z_dir=(1, 0, 0))):
        Polygon((101.834041847, 96.975), (109.625498003, 81.251522407), (106.962572065, 81.251522407), (99.342946609, 96.975), align=None)
    revolve1 = revolve(axis=Axis((-82.422199915, 48.975, -119.775749139), (0, 1, 0)))

    # Sketch16 → Boss-Extrude11 (add)
    with BuildSketch(Plane.XZ.offset(-81.251522407)):
        with Locations(Location((-82.422199915, -119.775749139, 0), (0, 0, 270))):
            Circle(SKETCH16_R)
        with Locations(Location((-82.422199915, -119.775749139, 0), (0, 0, 270))):
            Circle(SKETCH16_R_2, mode=Mode.SUBTRACT)
    boss_extrude11 = extrude(amount=BOSS_EXTRUDE11_DEPTH)

    # Mirror2: Revolve1, Boss-Extrude11 across plane
    add(revolve1.mirror(Plane.ZY.offset(50.422199915)))
    add(boss_extrude11.mirror(Plane.ZY.offset(50.422199915)))


with BuildPart() as body_6:
    # Mirror4: mirrored copy
    add(body_2.part.mirror(Plane.ZY.offset(52.266187111)))


solid = Compound([part.part, body_2.part, body_3.part, body_4.part, body_5.part, body_6.part])
